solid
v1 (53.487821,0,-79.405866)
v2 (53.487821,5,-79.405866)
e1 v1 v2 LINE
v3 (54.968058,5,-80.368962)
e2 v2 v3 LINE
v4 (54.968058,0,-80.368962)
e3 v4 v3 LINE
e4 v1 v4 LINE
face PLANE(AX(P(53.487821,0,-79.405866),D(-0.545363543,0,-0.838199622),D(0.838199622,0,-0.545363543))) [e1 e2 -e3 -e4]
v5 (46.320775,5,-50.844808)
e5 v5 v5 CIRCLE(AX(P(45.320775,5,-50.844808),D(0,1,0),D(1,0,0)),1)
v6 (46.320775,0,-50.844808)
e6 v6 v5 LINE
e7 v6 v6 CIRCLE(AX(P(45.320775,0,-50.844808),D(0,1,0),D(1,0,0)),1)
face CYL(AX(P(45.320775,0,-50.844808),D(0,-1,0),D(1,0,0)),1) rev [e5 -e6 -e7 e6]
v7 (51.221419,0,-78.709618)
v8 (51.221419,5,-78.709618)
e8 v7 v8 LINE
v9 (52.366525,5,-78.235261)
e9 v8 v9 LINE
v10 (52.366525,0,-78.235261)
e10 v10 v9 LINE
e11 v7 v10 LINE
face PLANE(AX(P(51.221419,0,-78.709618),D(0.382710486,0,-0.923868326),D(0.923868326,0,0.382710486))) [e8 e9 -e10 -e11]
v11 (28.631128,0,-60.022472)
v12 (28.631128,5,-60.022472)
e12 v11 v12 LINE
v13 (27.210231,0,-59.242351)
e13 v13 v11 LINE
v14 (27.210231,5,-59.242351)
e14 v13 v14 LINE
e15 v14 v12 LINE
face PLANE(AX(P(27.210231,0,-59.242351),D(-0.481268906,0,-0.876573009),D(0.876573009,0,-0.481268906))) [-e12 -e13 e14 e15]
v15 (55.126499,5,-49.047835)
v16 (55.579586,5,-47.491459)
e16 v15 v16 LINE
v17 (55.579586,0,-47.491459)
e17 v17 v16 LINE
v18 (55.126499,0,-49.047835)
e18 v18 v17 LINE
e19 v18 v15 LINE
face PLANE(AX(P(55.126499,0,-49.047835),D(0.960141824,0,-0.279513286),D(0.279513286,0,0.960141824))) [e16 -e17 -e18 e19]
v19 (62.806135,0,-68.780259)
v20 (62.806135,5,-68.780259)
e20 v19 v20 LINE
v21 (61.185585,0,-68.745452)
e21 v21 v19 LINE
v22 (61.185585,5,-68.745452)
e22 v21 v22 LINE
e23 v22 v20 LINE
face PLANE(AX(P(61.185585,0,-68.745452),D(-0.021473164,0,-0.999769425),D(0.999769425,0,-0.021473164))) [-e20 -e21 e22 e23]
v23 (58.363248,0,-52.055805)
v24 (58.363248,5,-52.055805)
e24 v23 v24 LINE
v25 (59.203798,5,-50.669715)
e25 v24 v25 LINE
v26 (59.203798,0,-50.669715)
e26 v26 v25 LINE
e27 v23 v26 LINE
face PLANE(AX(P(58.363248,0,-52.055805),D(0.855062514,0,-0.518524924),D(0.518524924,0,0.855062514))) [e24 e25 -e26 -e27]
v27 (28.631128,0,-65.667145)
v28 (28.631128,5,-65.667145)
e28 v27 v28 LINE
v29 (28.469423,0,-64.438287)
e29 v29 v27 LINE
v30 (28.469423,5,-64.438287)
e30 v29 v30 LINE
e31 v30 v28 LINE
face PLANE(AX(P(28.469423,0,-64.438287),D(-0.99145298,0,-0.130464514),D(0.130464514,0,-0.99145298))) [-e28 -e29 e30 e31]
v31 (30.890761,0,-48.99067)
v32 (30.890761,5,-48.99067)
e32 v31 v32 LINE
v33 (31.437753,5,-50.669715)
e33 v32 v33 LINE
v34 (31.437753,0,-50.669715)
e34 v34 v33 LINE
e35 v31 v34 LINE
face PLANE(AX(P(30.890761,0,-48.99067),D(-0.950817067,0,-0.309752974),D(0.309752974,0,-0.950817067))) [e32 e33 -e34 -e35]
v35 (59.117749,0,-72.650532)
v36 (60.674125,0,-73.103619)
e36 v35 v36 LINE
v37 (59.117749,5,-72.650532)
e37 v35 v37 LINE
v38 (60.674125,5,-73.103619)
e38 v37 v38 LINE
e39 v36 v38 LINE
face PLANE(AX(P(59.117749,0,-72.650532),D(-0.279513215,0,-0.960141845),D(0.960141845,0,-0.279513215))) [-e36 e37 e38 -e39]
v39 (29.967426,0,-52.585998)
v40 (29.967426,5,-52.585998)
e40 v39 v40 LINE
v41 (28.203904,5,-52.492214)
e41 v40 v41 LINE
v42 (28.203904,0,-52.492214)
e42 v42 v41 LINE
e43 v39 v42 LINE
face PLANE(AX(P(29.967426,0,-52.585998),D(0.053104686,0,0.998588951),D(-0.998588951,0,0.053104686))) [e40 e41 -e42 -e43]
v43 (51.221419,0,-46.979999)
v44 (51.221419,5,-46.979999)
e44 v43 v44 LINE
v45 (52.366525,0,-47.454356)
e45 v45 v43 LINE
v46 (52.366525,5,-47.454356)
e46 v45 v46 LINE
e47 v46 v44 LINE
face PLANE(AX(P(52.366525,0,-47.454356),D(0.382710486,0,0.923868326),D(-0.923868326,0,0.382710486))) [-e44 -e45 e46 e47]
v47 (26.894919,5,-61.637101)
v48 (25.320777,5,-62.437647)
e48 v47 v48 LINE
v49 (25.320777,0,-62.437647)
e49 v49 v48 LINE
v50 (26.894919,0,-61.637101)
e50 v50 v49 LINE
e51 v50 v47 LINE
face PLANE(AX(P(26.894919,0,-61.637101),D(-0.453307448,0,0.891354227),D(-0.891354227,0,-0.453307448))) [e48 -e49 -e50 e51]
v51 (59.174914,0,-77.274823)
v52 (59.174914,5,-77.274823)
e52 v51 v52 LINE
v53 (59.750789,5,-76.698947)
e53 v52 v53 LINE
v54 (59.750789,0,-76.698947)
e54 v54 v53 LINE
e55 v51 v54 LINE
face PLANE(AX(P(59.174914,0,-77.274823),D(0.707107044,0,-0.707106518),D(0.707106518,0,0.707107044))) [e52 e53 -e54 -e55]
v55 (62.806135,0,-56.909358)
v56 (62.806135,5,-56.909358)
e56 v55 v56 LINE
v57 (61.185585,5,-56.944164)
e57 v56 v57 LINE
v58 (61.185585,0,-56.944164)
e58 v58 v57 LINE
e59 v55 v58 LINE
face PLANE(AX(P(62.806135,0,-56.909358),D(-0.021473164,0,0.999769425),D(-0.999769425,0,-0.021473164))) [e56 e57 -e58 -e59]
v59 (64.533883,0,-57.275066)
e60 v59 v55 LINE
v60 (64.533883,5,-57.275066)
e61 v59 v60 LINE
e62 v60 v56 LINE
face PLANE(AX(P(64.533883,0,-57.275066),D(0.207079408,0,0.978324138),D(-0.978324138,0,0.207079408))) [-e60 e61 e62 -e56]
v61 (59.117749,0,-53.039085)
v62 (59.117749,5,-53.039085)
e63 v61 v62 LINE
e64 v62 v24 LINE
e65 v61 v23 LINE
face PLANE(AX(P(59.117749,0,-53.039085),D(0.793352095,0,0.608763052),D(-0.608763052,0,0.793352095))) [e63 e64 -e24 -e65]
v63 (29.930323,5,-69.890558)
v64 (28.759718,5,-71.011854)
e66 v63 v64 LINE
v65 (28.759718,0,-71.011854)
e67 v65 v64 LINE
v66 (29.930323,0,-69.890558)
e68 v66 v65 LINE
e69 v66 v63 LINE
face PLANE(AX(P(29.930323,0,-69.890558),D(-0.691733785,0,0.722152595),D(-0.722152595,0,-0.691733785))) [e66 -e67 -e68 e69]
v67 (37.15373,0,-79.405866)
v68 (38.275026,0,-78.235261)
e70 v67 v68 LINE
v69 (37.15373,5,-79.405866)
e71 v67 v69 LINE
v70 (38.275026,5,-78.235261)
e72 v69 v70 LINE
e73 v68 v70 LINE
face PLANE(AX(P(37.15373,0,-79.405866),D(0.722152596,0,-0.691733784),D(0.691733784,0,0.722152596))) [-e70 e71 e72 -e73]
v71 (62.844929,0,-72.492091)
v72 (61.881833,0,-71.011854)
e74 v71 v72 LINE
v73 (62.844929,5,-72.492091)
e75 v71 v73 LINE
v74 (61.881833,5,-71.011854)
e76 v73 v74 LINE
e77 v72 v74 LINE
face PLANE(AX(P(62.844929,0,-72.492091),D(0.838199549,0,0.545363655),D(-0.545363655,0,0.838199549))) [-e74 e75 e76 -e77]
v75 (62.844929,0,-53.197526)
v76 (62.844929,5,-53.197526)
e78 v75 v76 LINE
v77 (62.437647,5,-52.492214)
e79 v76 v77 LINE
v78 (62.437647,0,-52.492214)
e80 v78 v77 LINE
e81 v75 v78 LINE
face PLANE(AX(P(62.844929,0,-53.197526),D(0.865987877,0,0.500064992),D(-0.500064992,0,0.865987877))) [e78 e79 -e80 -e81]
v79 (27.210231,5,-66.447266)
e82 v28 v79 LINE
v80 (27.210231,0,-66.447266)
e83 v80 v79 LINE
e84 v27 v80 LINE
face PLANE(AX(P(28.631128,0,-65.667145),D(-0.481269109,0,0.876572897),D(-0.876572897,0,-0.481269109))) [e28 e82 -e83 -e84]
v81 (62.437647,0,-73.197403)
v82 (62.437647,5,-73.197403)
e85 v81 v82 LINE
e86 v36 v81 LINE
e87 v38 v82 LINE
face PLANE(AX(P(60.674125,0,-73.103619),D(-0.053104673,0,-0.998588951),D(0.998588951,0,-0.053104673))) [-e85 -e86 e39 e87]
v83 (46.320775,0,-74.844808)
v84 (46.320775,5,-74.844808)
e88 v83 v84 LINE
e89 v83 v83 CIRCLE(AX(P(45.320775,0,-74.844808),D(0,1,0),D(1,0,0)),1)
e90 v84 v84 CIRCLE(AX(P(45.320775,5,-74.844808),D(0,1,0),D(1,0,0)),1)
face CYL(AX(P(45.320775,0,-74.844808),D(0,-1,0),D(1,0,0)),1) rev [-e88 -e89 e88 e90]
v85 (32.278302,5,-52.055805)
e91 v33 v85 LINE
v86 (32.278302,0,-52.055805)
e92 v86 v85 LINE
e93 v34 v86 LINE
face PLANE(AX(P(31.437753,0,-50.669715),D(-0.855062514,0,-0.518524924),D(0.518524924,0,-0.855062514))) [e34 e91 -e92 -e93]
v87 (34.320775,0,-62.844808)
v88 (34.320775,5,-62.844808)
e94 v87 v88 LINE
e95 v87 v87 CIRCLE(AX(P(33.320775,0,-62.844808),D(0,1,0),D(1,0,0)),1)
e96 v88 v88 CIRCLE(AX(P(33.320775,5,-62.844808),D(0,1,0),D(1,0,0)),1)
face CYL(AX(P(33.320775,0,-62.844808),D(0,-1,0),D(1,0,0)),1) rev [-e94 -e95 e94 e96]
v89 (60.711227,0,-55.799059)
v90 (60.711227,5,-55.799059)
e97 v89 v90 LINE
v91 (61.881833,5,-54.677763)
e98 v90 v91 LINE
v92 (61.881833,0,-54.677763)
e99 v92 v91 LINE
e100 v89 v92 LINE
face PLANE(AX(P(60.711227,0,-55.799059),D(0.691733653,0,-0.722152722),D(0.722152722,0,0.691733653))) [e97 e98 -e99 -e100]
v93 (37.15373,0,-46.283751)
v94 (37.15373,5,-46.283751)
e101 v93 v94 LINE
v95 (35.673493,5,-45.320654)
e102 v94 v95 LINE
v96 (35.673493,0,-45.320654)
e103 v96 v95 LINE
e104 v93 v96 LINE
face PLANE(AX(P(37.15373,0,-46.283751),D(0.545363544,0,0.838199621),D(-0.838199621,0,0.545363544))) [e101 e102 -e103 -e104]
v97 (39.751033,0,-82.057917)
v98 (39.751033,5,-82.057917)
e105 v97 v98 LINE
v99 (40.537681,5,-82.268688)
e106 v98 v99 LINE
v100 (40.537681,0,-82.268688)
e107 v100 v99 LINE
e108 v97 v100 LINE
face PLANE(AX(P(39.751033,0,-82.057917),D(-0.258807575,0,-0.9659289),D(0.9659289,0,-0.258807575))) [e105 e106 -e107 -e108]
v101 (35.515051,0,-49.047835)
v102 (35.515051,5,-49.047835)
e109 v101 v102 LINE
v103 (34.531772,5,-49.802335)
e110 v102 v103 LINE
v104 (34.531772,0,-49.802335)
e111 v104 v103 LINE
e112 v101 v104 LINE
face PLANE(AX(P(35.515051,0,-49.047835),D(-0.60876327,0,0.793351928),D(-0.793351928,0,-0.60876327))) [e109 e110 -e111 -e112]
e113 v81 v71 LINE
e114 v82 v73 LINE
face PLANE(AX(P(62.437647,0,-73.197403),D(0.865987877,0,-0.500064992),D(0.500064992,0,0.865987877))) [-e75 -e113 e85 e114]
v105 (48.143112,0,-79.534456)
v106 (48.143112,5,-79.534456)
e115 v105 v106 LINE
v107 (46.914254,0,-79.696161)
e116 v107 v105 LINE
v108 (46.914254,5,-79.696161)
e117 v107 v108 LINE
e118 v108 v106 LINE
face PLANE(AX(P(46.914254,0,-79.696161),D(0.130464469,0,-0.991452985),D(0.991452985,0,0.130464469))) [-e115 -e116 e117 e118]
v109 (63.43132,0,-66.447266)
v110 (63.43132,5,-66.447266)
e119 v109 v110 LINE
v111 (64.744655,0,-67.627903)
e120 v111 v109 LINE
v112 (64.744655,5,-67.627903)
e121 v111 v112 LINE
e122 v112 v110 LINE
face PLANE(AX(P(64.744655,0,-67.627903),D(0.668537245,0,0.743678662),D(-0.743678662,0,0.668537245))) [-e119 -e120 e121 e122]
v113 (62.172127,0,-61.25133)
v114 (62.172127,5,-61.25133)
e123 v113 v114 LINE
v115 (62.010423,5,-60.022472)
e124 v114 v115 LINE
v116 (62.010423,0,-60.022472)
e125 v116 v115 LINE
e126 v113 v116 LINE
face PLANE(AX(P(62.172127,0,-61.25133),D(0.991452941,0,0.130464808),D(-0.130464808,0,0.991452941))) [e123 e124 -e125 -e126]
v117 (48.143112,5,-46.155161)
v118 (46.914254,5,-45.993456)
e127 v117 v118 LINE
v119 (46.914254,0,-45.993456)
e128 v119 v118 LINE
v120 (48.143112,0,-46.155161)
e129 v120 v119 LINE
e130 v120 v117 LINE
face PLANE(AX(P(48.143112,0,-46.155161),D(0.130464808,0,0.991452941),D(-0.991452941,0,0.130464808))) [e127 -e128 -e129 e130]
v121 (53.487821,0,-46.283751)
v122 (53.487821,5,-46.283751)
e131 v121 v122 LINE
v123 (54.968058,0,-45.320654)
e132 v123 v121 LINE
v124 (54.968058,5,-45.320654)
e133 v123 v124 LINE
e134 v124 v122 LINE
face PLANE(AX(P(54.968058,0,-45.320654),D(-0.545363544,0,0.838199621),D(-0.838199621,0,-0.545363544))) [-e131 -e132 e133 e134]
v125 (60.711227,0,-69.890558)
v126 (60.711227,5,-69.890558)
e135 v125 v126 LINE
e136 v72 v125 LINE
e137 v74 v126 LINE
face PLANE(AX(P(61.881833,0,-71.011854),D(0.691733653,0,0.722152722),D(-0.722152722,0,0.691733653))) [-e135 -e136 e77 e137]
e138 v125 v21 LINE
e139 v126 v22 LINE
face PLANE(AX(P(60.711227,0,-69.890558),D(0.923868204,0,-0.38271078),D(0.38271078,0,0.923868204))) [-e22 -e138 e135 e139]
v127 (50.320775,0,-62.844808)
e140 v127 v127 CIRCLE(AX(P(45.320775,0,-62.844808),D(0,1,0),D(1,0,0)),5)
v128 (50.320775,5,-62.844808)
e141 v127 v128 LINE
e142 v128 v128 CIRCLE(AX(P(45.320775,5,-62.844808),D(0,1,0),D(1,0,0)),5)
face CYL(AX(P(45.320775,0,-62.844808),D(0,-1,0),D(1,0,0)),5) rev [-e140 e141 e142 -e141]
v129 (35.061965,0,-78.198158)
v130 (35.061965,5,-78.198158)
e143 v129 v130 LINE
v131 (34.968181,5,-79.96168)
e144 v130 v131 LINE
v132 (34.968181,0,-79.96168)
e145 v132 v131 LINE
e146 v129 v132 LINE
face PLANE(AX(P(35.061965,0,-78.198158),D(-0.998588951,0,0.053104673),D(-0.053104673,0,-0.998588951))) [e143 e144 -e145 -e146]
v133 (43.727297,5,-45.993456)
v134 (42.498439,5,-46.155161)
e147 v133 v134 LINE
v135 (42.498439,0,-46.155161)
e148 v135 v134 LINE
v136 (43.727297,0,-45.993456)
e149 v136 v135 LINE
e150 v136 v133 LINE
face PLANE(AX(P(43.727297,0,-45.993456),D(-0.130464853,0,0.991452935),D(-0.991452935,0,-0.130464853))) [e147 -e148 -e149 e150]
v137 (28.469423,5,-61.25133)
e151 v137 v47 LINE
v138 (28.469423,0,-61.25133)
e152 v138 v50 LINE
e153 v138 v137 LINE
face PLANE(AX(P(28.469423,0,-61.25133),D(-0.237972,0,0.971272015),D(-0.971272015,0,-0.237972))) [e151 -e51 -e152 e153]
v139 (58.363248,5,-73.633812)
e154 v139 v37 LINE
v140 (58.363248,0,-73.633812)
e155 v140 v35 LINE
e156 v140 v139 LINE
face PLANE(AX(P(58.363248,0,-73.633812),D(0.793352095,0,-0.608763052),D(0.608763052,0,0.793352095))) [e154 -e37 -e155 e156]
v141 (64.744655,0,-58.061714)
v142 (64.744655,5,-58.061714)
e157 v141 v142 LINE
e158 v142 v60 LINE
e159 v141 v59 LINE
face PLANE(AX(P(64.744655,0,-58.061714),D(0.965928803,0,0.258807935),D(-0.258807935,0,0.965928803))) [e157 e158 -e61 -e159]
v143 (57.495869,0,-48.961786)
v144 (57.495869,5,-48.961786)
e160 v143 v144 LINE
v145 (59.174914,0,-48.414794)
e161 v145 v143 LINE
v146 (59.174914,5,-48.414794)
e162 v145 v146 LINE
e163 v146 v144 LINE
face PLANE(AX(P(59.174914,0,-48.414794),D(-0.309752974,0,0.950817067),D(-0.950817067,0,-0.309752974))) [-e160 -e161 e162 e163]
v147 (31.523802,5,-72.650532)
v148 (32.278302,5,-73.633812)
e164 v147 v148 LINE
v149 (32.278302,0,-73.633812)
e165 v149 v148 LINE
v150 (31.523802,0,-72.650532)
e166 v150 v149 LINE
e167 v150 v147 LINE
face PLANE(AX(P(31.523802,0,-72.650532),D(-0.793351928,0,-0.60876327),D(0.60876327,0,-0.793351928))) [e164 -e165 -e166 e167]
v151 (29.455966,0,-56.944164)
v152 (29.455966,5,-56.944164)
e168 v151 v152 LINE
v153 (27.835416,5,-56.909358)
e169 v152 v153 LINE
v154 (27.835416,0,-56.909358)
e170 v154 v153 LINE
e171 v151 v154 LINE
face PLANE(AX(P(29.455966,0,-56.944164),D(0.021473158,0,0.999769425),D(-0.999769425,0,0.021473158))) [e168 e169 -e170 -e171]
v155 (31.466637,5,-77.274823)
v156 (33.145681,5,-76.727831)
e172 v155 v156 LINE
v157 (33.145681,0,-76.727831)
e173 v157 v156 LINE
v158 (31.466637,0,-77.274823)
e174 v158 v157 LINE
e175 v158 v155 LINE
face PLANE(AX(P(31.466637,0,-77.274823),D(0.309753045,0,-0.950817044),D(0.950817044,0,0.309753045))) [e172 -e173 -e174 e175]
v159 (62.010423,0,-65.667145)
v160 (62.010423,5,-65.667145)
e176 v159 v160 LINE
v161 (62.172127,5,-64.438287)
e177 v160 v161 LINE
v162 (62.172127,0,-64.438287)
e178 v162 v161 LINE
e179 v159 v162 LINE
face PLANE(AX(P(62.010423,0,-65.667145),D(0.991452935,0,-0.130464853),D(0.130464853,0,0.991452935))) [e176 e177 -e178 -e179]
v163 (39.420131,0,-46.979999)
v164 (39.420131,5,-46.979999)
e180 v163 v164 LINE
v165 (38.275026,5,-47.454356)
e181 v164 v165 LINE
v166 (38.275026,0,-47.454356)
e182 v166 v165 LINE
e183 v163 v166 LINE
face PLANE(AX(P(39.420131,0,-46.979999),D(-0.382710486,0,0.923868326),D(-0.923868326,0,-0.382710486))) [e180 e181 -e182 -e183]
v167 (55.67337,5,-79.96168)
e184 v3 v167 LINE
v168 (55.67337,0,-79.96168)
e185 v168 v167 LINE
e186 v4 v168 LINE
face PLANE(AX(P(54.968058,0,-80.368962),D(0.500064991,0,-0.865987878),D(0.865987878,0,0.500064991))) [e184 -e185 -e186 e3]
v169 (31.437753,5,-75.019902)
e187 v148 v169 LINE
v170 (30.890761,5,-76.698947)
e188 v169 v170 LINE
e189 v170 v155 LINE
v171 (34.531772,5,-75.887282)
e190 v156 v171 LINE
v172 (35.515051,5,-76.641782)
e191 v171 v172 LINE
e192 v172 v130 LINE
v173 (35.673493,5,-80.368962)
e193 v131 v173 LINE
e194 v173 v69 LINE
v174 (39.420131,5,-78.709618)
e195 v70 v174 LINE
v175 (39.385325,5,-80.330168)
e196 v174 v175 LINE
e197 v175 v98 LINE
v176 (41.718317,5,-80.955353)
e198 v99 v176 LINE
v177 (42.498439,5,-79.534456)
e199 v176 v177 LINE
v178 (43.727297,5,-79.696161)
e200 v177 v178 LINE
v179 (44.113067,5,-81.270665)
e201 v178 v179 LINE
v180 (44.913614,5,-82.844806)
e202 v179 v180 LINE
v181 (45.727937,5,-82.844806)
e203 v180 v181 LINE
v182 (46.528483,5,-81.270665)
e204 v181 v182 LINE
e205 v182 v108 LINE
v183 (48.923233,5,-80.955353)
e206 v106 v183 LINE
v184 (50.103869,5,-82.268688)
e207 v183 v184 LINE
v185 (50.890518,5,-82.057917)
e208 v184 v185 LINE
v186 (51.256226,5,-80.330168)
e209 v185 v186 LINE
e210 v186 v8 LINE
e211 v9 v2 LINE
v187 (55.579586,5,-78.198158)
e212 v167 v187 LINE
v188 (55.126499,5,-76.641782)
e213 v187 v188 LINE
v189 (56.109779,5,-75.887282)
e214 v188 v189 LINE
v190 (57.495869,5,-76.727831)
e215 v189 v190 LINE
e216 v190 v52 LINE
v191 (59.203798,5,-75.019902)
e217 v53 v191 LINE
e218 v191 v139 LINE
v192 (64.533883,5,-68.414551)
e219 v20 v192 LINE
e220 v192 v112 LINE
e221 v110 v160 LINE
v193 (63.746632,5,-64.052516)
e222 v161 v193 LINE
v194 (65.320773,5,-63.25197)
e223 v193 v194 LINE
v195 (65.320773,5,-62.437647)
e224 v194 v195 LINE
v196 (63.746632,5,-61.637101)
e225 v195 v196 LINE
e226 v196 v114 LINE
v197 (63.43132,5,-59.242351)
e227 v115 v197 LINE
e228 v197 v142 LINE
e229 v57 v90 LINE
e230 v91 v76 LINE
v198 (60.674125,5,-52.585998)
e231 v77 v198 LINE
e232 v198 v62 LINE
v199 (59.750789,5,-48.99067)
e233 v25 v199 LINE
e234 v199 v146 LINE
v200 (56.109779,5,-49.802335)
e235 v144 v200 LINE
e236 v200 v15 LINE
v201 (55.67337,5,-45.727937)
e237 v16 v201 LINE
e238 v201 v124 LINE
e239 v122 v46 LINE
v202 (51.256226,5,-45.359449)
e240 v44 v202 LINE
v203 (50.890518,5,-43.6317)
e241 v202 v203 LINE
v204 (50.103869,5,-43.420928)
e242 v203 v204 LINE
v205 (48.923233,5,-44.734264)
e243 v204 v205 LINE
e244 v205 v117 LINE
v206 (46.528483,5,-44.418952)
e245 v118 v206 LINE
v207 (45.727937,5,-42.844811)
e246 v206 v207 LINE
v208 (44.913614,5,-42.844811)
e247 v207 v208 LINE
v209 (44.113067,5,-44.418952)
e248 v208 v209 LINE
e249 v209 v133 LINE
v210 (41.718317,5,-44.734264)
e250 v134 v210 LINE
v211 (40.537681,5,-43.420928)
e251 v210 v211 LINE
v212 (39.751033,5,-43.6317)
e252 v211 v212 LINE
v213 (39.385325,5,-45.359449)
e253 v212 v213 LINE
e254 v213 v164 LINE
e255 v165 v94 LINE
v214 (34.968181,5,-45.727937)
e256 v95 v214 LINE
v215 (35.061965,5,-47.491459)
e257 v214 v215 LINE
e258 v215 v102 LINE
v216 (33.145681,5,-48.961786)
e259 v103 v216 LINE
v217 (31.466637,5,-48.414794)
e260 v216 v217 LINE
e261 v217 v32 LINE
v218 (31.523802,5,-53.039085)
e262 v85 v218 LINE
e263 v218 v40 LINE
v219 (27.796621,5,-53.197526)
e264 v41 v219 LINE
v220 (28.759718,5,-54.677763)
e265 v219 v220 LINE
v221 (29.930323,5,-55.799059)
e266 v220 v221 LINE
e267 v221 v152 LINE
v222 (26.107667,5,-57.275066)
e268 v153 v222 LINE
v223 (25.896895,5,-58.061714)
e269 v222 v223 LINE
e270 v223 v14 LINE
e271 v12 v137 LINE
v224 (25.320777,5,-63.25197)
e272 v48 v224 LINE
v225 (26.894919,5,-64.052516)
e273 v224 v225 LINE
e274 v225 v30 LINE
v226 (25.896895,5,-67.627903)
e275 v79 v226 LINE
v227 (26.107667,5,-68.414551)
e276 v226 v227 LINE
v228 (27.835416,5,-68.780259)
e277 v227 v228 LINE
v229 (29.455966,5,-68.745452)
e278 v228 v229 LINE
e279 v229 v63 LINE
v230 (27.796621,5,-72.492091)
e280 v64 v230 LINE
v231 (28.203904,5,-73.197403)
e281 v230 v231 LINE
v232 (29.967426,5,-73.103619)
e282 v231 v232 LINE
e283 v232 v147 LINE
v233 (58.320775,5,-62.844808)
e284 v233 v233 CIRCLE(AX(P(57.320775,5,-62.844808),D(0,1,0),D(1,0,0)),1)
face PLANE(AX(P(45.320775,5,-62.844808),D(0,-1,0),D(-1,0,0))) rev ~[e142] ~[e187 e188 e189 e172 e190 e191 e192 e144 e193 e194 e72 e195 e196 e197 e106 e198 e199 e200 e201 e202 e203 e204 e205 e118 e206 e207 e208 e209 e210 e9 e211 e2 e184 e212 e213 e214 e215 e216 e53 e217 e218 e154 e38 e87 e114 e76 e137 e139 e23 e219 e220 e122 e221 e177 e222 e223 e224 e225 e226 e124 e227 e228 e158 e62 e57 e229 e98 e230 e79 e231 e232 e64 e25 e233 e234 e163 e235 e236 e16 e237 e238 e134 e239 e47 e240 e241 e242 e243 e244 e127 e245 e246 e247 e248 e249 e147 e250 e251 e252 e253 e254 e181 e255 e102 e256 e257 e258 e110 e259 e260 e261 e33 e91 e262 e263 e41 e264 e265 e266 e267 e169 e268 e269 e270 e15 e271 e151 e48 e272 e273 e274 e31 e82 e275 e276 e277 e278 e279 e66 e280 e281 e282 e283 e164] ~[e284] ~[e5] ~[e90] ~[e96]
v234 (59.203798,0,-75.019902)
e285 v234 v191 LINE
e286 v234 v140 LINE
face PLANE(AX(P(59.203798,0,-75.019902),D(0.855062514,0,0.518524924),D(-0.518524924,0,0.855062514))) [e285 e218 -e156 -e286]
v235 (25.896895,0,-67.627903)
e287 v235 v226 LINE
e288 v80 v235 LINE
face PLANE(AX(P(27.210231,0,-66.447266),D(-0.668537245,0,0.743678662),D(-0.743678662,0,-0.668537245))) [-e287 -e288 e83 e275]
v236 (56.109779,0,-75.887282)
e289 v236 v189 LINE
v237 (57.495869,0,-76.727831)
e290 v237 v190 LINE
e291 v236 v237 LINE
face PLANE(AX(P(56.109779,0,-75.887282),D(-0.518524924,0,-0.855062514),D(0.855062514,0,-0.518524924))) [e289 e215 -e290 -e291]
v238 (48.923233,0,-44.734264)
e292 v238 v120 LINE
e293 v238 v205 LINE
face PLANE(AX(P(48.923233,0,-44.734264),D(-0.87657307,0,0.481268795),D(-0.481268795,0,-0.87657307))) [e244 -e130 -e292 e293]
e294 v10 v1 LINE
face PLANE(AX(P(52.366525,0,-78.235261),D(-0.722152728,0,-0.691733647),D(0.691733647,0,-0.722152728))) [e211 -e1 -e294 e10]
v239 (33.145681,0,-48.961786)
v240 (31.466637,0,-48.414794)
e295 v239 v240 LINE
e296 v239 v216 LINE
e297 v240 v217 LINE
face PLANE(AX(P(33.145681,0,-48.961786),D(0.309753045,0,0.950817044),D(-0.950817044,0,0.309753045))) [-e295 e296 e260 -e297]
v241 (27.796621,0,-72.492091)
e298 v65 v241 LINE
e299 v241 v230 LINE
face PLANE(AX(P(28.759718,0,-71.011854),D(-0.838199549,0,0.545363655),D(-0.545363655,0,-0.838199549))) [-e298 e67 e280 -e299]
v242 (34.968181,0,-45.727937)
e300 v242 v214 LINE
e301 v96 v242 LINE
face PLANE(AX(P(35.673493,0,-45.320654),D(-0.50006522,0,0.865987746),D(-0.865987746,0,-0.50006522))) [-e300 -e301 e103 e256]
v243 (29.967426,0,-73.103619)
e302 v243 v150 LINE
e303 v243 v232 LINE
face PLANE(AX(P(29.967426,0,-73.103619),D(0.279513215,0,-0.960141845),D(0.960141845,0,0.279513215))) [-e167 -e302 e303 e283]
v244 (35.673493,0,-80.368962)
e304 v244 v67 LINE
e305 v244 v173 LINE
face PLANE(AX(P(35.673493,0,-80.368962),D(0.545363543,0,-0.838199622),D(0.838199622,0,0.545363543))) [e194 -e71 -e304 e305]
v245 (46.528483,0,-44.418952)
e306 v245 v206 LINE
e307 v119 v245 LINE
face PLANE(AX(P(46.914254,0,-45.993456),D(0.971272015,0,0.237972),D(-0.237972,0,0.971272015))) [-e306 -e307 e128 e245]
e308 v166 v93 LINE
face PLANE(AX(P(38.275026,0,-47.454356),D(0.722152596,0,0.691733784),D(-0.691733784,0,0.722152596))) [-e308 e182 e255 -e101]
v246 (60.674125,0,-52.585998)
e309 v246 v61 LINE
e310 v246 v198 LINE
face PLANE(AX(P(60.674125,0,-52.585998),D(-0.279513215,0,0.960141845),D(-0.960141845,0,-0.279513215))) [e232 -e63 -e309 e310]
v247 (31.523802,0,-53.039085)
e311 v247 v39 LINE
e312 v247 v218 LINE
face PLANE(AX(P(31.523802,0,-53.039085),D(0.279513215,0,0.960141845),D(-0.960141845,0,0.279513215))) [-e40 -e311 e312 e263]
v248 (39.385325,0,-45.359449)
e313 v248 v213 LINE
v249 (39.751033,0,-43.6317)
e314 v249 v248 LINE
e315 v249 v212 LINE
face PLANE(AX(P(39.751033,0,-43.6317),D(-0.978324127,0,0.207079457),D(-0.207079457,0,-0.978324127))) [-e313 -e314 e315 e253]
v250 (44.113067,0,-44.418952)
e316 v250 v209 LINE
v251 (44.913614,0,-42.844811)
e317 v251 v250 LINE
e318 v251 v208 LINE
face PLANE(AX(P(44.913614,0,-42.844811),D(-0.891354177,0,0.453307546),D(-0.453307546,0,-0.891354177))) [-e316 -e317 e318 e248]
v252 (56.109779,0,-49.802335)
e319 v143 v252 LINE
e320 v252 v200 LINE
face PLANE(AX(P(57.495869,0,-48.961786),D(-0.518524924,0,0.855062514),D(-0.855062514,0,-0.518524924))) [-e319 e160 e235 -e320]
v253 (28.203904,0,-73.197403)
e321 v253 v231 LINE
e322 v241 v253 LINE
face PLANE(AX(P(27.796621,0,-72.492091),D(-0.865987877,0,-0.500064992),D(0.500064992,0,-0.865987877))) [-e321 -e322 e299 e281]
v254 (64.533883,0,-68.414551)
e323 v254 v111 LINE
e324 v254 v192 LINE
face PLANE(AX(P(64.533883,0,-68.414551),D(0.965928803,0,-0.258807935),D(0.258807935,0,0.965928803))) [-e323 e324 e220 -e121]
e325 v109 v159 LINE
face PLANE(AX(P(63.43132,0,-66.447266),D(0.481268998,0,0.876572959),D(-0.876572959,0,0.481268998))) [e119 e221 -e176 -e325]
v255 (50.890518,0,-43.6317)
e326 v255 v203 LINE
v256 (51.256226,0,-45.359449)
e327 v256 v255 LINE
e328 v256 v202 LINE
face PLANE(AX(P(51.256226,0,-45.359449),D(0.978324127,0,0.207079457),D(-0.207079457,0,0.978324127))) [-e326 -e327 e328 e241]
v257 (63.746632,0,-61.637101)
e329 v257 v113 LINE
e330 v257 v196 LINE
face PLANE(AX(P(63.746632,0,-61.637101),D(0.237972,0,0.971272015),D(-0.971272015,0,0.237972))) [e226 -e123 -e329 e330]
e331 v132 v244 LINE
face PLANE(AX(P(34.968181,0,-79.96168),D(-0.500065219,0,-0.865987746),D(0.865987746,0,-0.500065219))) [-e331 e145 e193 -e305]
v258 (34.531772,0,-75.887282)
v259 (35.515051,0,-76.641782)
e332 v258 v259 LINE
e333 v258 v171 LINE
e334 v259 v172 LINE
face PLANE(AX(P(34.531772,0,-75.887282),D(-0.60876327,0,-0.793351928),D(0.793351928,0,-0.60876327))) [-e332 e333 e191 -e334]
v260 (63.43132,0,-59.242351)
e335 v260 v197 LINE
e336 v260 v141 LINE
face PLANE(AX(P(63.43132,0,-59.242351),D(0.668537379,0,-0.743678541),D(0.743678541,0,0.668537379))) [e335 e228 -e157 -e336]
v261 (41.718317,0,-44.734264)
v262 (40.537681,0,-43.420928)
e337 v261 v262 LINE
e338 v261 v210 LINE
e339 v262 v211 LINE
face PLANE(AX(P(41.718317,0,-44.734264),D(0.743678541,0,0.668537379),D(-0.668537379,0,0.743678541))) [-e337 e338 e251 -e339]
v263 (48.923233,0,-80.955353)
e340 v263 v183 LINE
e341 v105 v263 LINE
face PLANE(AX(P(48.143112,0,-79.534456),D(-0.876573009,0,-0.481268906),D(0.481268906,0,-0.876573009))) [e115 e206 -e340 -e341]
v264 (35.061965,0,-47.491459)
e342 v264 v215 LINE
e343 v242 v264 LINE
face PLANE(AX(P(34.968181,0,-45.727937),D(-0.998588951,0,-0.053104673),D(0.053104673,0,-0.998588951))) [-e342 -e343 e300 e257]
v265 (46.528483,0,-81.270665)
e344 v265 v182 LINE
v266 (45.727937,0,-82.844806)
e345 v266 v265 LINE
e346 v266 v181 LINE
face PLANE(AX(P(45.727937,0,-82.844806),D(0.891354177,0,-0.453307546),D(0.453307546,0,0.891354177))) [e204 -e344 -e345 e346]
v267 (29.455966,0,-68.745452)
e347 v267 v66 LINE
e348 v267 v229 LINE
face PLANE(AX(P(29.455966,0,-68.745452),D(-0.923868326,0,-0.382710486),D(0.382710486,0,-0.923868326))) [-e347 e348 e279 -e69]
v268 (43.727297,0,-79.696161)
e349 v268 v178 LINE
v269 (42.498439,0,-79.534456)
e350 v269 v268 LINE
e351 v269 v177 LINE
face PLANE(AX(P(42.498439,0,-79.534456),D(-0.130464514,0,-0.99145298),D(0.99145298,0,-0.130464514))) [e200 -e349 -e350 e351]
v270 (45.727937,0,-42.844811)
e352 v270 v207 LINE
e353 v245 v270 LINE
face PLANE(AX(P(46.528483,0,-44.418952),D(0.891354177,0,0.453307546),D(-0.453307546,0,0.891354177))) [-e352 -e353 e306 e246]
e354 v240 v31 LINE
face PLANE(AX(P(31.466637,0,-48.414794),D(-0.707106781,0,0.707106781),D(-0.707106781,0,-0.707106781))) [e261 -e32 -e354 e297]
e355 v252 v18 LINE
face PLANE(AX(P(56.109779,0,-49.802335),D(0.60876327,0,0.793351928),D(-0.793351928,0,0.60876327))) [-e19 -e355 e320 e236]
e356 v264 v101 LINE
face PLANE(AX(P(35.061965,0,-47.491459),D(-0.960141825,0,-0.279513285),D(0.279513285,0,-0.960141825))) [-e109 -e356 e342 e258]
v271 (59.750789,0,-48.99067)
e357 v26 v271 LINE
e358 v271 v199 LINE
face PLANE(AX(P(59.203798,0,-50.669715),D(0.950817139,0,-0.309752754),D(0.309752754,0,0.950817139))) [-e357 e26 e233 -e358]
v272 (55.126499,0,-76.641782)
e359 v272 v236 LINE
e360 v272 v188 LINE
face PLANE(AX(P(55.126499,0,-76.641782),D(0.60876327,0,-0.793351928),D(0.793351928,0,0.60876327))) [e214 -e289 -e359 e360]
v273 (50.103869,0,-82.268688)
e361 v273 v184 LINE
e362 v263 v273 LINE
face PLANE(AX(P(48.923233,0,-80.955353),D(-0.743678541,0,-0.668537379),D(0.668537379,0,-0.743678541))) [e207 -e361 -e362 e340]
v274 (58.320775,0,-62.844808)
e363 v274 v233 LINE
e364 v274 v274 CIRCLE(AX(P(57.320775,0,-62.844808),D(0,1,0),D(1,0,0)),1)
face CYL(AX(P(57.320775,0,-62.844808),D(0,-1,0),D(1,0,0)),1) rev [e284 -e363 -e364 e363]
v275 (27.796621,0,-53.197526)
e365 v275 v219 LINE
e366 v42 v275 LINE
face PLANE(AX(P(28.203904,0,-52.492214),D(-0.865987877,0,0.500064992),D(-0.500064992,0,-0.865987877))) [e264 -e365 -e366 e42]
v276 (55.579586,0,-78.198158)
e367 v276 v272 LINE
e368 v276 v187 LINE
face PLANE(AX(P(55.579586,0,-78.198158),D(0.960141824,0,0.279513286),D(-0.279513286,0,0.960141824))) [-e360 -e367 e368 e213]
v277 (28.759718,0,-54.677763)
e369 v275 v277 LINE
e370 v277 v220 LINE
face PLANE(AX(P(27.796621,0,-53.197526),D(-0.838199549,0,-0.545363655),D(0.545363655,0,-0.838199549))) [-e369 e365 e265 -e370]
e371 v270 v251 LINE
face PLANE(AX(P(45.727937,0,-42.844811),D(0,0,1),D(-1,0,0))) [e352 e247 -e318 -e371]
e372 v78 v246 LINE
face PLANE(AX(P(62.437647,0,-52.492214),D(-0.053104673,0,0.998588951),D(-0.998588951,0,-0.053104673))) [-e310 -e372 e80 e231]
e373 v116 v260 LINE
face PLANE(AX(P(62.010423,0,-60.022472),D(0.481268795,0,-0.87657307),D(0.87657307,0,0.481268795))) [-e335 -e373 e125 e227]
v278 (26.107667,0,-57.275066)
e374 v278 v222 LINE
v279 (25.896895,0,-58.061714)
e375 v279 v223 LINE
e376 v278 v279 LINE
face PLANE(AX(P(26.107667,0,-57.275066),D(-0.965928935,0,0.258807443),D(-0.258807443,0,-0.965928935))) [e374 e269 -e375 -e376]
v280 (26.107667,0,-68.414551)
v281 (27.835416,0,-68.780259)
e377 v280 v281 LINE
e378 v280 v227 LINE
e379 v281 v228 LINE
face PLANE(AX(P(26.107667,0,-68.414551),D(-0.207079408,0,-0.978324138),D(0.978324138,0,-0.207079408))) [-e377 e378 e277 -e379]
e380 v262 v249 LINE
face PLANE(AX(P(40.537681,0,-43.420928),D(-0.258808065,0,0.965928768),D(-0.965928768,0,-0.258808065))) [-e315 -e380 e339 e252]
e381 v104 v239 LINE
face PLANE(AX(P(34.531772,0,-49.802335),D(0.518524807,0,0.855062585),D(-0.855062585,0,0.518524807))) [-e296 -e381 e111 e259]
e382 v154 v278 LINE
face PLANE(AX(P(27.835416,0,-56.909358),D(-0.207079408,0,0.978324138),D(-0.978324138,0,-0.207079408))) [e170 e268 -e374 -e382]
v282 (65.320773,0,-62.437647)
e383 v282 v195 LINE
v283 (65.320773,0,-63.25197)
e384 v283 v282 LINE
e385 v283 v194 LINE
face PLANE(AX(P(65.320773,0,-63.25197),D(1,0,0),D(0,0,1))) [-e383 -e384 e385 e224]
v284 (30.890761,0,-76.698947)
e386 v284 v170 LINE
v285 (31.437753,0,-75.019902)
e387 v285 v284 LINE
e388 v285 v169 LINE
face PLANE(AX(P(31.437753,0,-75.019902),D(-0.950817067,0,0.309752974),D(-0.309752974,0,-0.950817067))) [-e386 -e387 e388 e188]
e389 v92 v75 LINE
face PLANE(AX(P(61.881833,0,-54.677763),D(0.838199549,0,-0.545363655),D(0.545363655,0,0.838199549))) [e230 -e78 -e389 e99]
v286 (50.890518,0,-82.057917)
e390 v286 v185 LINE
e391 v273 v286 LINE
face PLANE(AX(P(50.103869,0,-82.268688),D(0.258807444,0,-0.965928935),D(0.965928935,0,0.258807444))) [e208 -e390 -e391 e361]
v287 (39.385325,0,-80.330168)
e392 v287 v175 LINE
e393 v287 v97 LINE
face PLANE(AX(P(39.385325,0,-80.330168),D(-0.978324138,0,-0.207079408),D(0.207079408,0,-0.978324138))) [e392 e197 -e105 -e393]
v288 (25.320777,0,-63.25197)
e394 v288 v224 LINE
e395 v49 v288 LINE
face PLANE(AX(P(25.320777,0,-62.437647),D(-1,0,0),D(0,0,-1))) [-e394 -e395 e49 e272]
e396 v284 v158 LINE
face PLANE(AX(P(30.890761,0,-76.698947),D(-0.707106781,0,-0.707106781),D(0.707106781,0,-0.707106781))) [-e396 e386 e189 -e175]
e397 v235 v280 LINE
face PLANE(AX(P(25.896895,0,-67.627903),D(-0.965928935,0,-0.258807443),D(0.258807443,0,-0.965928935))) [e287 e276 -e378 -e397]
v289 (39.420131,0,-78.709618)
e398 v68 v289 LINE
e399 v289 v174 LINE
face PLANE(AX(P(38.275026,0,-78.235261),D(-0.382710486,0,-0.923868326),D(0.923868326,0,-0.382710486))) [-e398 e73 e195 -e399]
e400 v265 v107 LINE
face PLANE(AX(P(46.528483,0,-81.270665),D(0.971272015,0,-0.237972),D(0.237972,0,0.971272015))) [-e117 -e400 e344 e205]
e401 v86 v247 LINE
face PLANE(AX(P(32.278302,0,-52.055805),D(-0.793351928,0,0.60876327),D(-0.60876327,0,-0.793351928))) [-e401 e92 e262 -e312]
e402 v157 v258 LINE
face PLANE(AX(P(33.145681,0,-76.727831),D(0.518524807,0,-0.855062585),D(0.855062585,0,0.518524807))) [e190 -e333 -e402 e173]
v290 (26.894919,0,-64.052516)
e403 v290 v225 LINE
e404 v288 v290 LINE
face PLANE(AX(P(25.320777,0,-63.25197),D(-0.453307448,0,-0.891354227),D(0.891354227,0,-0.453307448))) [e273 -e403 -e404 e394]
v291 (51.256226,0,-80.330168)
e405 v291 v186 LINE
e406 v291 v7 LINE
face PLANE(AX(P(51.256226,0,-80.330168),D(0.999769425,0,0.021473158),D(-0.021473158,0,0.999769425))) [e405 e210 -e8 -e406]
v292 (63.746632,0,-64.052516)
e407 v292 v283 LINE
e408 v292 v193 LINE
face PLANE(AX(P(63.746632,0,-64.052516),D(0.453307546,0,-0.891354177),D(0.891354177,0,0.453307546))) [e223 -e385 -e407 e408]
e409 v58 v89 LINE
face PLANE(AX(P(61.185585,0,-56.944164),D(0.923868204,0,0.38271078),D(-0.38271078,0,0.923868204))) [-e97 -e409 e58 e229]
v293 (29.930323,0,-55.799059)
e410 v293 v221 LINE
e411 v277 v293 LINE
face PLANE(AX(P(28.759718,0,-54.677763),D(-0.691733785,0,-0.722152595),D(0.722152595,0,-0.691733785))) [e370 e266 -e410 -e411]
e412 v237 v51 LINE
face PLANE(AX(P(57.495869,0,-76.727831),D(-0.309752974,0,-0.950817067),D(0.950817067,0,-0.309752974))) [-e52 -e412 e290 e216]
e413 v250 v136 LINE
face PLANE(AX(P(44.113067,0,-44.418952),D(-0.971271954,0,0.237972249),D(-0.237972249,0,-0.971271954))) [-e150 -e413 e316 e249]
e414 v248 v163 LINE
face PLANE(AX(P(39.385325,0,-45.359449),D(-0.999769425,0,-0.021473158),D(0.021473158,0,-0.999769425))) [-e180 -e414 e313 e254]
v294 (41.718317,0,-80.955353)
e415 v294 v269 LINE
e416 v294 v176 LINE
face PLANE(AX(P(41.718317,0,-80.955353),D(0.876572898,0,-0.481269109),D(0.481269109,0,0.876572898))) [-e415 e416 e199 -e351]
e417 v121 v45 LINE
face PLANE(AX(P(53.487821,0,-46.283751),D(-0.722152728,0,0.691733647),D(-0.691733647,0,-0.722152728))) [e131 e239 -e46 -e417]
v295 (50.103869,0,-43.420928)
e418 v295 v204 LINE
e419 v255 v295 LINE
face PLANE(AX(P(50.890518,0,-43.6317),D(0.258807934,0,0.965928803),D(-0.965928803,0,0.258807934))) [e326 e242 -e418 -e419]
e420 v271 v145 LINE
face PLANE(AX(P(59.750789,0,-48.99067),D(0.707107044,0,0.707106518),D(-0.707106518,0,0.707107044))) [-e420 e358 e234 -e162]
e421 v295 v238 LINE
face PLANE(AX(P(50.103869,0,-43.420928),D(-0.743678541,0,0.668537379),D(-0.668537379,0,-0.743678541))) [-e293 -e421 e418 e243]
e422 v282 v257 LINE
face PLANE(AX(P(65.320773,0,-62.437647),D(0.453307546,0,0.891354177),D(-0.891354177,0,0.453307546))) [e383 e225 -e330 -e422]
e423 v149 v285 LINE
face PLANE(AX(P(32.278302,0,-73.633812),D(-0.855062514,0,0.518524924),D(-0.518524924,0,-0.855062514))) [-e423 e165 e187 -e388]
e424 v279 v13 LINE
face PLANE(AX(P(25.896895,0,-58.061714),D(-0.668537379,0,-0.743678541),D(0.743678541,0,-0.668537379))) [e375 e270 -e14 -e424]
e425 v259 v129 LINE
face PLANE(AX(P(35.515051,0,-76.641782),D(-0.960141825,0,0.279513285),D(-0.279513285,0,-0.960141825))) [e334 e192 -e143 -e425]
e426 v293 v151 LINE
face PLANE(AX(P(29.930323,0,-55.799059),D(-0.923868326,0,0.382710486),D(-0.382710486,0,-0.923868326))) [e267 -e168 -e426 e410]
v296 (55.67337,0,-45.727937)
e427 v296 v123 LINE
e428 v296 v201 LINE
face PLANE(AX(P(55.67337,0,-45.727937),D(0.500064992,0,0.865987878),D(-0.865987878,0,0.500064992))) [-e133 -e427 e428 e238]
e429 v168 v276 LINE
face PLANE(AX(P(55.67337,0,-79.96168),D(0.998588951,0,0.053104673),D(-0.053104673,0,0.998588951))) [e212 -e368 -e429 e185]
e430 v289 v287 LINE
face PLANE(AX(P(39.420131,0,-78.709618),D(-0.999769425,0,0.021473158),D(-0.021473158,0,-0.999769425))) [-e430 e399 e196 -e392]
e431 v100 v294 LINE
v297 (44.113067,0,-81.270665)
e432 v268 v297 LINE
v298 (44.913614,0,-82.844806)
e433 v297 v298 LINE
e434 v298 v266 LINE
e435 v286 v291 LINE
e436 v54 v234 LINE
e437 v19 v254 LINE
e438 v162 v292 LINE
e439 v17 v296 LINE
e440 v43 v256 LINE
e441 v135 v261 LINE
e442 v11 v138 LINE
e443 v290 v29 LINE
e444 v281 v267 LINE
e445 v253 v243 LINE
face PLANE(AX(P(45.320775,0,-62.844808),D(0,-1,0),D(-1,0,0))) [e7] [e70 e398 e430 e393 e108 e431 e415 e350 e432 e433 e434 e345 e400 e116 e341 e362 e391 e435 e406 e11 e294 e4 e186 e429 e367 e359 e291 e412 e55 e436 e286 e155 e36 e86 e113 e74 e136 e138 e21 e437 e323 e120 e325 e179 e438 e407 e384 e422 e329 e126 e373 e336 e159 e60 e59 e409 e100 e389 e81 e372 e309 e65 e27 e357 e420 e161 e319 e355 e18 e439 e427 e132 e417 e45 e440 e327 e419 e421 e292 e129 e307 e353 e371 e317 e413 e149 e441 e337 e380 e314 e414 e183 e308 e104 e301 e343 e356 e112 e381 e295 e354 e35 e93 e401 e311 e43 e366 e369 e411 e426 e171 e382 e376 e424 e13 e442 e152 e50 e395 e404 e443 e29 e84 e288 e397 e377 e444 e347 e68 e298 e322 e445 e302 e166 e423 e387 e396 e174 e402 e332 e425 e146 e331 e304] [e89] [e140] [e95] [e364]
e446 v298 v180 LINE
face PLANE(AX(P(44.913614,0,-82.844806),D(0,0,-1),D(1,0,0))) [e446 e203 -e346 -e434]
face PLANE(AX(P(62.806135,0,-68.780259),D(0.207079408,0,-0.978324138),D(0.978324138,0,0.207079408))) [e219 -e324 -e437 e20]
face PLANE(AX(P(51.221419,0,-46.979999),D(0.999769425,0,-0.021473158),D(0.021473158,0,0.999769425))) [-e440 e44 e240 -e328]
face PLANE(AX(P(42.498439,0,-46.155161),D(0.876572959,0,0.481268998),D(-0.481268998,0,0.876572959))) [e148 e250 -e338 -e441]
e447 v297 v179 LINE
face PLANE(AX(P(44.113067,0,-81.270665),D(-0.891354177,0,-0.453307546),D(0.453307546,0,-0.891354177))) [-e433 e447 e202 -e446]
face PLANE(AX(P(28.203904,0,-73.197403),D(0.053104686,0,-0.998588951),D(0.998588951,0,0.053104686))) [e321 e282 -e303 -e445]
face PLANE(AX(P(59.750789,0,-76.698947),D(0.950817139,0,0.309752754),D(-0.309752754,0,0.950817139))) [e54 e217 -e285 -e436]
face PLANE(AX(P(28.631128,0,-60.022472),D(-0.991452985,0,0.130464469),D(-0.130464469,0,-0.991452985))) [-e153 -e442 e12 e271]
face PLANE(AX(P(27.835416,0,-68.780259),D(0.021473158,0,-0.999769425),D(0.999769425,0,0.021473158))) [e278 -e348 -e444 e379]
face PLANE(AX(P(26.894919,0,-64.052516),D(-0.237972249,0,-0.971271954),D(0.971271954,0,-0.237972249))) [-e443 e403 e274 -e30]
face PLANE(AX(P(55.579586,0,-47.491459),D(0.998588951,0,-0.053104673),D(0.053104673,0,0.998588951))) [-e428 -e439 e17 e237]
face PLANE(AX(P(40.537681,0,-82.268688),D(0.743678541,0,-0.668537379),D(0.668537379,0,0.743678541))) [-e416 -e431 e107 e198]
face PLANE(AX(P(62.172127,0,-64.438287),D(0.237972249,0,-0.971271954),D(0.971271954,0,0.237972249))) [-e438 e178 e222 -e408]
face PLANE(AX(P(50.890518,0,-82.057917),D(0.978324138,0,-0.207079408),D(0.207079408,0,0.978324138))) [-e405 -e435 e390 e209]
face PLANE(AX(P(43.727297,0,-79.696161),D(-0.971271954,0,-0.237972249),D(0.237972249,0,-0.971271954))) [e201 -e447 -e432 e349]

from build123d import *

# Parameters (mm, degrees)
BOSS_EXTRUDE1_DEPTH = 5
SKETCH4_R           = 5
CUT_EXTRUDE1_DEPTH  = 5
SKETCH5_R           = 1
CUT_EXTRUDE2_DEPTH  = 5


with BuildPart() as part:
    # Sketch2 → Boss-Extrude1 (new body)
    with BuildSketch(Plane(origin=(0, 0, 0), x_dir=(1, 0, 0), z_dir=(0, 1, 0))):
        Polygon((62.172127475, 64.438287146), (63.746631591, 64.052516421), (65.320772998, 63.251970245), (65.320772998, 62.437646696), (63.746631591, 61.63710052), (62.172127475, 61.251330223), (62.010422663, 60.022472316), (63.431319755, 59.242350893), (64.744655445, 58.061714434), (64.533883435, 57.275066391), (62.806134576, 56.909358138), (61.185584837, 56.944164493), (60.711227056, 55.799059379), (61.881832707, 54.677762874), (62.844929445, 53.197526256), (62.437646696, 52.492214089), (60.674124543, 52.585997689), (59.117748594, 53.03908454), (58.363248469, 52.055804998), (59.203797973, 50.66971469), (59.750789184, 48.990670319), (59.174913579, 48.414794286), (57.495869208, 48.961785926), (56.1097789, 49.80233543), (55.126499358, 49.047834876), (55.579586209, 47.491459356), (55.67336981, 45.727937202), (54.968057642, 45.320654453), (53.487820596, 46.283751191), (52.366524519, 47.454356415), (51.221419405, 46.979999061), (51.25622576, 45.359448894), (50.890517507, 43.631700463), (50.103869465, 43.420928454), (48.923233005, 44.734264143), (48.143111582, 46.155161235), (46.914253675, 45.993456423), (46.528483378, 44.418952307), (45.727937202, 42.8448109), (44.913613653, 42.8448109), (44.113067477, 44.418952307), (43.727296752, 45.993456423), (42.498439273, 46.155161235), (41.718317422, 44.734264143), (40.537680963, 43.420928454), (39.751033348, 43.631700463), (39.385325095, 45.359448894), (39.420131451, 46.979999061), (38.275026336, 47.454356415), (37.153729831, 46.283751191), (35.673492785, 45.320654453), (34.968181046, 45.727937202), (35.061964647, 47.491459356), (35.515051497, 49.047834876), (34.531771955, 49.80233543), (33.145681219, 48.961785926), (31.466637276, 48.414794286), (30.890761243, 48.990670319), (31.437752883, 50.66971469), (32.278302387, 52.055804998), (31.523801833, 53.03908454), (29.967425885, 52.585997689), (28.20390416, 52.492214089), (27.796621411, 53.197526256), (28.759718149, 54.677762874), (29.930323372, 55.799059379), (29.455966018, 56.944164493), (27.835415852, 56.909358138), (26.107666992, 57.275066391), (25.896895411, 58.061714434), (27.210231101, 59.242350893), (28.631127764, 60.022472316), (28.46942338, 61.251330223), (26.894919264, 61.63710052), (25.320777429, 62.437646696), (25.320777429, 63.251970245), (26.894919264, 64.052516421), (28.46942338, 64.438287146), (28.631127764, 65.667144625), (27.210231101, 66.447266476), (25.896895411, 67.627902507), (26.107666992, 68.41455055), (27.835415852, 68.780258803), (29.455966018, 68.745452448), (29.930323372, 69.890557562), (28.759718149, 71.011854067), (27.796621411, 72.492090685), (28.20390416, 73.197402852), (29.967425885, 73.103619252), (31.523801833, 72.650532401), (32.278302387, 73.633811943), (31.437752883, 75.019902251), (30.890761243, 76.698946622), (31.466637276, 77.274822655), (33.145681219, 76.727831015), (34.531771955, 75.887281511), (35.515051497, 76.641782065), (35.061964647, 78.198157585), (34.968181046, 79.961679739), (35.673492785, 80.368962487), (37.153729831, 79.40586575), (38.275026336, 78.235260526), (39.420131451, 78.70961788), (39.385325095, 80.330168047), (39.751033348, 82.057916906), (40.537680963, 82.268688487), (41.718317422, 80.955352798), (42.498439273, 79.534456134), (43.727296752, 79.696160518), (44.113067477, 81.270664634), (44.913613653, 82.844806041), (45.727937202, 82.844806041), (46.528483378, 81.270664634), (46.914253675, 79.696160518), (48.143111582, 79.534456134), (48.923233005, 80.955352798), (50.103869465, 82.268688487), (50.890517507, 82.057916906), (51.25622576, 80.330168047), (51.221419405, 78.70961788), (52.366524519, 78.235260526), (53.487820596, 79.40586575), (54.968057642, 80.368962487), (55.67336981, 79.961679739), (55.579586209, 78.198157585), (55.126499358, 76.641782065), (56.1097789, 75.887281511), (57.495869208, 76.727831015), (59.174913579, 77.274822655), (59.750789184, 76.698946622), (59.203797973, 75.019902251), (58.363248469, 73.633811943), (59.117748594, 72.650532401), (60.674124543, 73.103619252), (62.437646696, 73.197402852), (62.844929445, 72.492090685), (61.881832707, 71.011854067), (60.711227056, 69.890557562), (61.185584837, 68.745452448), (62.806134576, 68.780258803), (64.533883435, 68.41455055), (64.744655445, 67.627902507), (63.431319755, 66.447266476), (62.010422663, 65.667144625), align=None)
    extrude(amount=BOSS_EXTRUDE1_DEPTH)

    # Sketch4 → Cut-Extrude1 (cut)
    with BuildSketch(Plane(origin=(0, 0, 0), x_dir=(1, 0, 0), z_dir=(0, 1, 0))):
        with Locations((45.320775214, 62.84480847)):
            Circle(SKETCH4_R)
    extrude(amount=CUT_EXTRUDE1_DEPTH, mode=Mode.SUBTRACT)

    # Sketch5 → Cut-Extrude2 (cut)
    with BuildSketch(Plane(origin=(0, 0, 0), x_dir=(1, 0, 0), z_dir=(0, 1, 0))):
        with Locations((45.320775428, 50.84480847)):
            Circle(SKETCH5_R)
        with Locations((33.320775428, 62.84480847)):
            Circle(SKETCH5_R)
        with Locations((45.320775428, 74.84480847)):
            Circle(SKETCH5_R)
        with Locations((57.320775428, 62.84480847)):
            Circle(SKETCH5_R)
    extrude(amount=CUT_EXTRUDE2_DEPTH, mode=Mode.SUBTRACT)


solid = part.part
